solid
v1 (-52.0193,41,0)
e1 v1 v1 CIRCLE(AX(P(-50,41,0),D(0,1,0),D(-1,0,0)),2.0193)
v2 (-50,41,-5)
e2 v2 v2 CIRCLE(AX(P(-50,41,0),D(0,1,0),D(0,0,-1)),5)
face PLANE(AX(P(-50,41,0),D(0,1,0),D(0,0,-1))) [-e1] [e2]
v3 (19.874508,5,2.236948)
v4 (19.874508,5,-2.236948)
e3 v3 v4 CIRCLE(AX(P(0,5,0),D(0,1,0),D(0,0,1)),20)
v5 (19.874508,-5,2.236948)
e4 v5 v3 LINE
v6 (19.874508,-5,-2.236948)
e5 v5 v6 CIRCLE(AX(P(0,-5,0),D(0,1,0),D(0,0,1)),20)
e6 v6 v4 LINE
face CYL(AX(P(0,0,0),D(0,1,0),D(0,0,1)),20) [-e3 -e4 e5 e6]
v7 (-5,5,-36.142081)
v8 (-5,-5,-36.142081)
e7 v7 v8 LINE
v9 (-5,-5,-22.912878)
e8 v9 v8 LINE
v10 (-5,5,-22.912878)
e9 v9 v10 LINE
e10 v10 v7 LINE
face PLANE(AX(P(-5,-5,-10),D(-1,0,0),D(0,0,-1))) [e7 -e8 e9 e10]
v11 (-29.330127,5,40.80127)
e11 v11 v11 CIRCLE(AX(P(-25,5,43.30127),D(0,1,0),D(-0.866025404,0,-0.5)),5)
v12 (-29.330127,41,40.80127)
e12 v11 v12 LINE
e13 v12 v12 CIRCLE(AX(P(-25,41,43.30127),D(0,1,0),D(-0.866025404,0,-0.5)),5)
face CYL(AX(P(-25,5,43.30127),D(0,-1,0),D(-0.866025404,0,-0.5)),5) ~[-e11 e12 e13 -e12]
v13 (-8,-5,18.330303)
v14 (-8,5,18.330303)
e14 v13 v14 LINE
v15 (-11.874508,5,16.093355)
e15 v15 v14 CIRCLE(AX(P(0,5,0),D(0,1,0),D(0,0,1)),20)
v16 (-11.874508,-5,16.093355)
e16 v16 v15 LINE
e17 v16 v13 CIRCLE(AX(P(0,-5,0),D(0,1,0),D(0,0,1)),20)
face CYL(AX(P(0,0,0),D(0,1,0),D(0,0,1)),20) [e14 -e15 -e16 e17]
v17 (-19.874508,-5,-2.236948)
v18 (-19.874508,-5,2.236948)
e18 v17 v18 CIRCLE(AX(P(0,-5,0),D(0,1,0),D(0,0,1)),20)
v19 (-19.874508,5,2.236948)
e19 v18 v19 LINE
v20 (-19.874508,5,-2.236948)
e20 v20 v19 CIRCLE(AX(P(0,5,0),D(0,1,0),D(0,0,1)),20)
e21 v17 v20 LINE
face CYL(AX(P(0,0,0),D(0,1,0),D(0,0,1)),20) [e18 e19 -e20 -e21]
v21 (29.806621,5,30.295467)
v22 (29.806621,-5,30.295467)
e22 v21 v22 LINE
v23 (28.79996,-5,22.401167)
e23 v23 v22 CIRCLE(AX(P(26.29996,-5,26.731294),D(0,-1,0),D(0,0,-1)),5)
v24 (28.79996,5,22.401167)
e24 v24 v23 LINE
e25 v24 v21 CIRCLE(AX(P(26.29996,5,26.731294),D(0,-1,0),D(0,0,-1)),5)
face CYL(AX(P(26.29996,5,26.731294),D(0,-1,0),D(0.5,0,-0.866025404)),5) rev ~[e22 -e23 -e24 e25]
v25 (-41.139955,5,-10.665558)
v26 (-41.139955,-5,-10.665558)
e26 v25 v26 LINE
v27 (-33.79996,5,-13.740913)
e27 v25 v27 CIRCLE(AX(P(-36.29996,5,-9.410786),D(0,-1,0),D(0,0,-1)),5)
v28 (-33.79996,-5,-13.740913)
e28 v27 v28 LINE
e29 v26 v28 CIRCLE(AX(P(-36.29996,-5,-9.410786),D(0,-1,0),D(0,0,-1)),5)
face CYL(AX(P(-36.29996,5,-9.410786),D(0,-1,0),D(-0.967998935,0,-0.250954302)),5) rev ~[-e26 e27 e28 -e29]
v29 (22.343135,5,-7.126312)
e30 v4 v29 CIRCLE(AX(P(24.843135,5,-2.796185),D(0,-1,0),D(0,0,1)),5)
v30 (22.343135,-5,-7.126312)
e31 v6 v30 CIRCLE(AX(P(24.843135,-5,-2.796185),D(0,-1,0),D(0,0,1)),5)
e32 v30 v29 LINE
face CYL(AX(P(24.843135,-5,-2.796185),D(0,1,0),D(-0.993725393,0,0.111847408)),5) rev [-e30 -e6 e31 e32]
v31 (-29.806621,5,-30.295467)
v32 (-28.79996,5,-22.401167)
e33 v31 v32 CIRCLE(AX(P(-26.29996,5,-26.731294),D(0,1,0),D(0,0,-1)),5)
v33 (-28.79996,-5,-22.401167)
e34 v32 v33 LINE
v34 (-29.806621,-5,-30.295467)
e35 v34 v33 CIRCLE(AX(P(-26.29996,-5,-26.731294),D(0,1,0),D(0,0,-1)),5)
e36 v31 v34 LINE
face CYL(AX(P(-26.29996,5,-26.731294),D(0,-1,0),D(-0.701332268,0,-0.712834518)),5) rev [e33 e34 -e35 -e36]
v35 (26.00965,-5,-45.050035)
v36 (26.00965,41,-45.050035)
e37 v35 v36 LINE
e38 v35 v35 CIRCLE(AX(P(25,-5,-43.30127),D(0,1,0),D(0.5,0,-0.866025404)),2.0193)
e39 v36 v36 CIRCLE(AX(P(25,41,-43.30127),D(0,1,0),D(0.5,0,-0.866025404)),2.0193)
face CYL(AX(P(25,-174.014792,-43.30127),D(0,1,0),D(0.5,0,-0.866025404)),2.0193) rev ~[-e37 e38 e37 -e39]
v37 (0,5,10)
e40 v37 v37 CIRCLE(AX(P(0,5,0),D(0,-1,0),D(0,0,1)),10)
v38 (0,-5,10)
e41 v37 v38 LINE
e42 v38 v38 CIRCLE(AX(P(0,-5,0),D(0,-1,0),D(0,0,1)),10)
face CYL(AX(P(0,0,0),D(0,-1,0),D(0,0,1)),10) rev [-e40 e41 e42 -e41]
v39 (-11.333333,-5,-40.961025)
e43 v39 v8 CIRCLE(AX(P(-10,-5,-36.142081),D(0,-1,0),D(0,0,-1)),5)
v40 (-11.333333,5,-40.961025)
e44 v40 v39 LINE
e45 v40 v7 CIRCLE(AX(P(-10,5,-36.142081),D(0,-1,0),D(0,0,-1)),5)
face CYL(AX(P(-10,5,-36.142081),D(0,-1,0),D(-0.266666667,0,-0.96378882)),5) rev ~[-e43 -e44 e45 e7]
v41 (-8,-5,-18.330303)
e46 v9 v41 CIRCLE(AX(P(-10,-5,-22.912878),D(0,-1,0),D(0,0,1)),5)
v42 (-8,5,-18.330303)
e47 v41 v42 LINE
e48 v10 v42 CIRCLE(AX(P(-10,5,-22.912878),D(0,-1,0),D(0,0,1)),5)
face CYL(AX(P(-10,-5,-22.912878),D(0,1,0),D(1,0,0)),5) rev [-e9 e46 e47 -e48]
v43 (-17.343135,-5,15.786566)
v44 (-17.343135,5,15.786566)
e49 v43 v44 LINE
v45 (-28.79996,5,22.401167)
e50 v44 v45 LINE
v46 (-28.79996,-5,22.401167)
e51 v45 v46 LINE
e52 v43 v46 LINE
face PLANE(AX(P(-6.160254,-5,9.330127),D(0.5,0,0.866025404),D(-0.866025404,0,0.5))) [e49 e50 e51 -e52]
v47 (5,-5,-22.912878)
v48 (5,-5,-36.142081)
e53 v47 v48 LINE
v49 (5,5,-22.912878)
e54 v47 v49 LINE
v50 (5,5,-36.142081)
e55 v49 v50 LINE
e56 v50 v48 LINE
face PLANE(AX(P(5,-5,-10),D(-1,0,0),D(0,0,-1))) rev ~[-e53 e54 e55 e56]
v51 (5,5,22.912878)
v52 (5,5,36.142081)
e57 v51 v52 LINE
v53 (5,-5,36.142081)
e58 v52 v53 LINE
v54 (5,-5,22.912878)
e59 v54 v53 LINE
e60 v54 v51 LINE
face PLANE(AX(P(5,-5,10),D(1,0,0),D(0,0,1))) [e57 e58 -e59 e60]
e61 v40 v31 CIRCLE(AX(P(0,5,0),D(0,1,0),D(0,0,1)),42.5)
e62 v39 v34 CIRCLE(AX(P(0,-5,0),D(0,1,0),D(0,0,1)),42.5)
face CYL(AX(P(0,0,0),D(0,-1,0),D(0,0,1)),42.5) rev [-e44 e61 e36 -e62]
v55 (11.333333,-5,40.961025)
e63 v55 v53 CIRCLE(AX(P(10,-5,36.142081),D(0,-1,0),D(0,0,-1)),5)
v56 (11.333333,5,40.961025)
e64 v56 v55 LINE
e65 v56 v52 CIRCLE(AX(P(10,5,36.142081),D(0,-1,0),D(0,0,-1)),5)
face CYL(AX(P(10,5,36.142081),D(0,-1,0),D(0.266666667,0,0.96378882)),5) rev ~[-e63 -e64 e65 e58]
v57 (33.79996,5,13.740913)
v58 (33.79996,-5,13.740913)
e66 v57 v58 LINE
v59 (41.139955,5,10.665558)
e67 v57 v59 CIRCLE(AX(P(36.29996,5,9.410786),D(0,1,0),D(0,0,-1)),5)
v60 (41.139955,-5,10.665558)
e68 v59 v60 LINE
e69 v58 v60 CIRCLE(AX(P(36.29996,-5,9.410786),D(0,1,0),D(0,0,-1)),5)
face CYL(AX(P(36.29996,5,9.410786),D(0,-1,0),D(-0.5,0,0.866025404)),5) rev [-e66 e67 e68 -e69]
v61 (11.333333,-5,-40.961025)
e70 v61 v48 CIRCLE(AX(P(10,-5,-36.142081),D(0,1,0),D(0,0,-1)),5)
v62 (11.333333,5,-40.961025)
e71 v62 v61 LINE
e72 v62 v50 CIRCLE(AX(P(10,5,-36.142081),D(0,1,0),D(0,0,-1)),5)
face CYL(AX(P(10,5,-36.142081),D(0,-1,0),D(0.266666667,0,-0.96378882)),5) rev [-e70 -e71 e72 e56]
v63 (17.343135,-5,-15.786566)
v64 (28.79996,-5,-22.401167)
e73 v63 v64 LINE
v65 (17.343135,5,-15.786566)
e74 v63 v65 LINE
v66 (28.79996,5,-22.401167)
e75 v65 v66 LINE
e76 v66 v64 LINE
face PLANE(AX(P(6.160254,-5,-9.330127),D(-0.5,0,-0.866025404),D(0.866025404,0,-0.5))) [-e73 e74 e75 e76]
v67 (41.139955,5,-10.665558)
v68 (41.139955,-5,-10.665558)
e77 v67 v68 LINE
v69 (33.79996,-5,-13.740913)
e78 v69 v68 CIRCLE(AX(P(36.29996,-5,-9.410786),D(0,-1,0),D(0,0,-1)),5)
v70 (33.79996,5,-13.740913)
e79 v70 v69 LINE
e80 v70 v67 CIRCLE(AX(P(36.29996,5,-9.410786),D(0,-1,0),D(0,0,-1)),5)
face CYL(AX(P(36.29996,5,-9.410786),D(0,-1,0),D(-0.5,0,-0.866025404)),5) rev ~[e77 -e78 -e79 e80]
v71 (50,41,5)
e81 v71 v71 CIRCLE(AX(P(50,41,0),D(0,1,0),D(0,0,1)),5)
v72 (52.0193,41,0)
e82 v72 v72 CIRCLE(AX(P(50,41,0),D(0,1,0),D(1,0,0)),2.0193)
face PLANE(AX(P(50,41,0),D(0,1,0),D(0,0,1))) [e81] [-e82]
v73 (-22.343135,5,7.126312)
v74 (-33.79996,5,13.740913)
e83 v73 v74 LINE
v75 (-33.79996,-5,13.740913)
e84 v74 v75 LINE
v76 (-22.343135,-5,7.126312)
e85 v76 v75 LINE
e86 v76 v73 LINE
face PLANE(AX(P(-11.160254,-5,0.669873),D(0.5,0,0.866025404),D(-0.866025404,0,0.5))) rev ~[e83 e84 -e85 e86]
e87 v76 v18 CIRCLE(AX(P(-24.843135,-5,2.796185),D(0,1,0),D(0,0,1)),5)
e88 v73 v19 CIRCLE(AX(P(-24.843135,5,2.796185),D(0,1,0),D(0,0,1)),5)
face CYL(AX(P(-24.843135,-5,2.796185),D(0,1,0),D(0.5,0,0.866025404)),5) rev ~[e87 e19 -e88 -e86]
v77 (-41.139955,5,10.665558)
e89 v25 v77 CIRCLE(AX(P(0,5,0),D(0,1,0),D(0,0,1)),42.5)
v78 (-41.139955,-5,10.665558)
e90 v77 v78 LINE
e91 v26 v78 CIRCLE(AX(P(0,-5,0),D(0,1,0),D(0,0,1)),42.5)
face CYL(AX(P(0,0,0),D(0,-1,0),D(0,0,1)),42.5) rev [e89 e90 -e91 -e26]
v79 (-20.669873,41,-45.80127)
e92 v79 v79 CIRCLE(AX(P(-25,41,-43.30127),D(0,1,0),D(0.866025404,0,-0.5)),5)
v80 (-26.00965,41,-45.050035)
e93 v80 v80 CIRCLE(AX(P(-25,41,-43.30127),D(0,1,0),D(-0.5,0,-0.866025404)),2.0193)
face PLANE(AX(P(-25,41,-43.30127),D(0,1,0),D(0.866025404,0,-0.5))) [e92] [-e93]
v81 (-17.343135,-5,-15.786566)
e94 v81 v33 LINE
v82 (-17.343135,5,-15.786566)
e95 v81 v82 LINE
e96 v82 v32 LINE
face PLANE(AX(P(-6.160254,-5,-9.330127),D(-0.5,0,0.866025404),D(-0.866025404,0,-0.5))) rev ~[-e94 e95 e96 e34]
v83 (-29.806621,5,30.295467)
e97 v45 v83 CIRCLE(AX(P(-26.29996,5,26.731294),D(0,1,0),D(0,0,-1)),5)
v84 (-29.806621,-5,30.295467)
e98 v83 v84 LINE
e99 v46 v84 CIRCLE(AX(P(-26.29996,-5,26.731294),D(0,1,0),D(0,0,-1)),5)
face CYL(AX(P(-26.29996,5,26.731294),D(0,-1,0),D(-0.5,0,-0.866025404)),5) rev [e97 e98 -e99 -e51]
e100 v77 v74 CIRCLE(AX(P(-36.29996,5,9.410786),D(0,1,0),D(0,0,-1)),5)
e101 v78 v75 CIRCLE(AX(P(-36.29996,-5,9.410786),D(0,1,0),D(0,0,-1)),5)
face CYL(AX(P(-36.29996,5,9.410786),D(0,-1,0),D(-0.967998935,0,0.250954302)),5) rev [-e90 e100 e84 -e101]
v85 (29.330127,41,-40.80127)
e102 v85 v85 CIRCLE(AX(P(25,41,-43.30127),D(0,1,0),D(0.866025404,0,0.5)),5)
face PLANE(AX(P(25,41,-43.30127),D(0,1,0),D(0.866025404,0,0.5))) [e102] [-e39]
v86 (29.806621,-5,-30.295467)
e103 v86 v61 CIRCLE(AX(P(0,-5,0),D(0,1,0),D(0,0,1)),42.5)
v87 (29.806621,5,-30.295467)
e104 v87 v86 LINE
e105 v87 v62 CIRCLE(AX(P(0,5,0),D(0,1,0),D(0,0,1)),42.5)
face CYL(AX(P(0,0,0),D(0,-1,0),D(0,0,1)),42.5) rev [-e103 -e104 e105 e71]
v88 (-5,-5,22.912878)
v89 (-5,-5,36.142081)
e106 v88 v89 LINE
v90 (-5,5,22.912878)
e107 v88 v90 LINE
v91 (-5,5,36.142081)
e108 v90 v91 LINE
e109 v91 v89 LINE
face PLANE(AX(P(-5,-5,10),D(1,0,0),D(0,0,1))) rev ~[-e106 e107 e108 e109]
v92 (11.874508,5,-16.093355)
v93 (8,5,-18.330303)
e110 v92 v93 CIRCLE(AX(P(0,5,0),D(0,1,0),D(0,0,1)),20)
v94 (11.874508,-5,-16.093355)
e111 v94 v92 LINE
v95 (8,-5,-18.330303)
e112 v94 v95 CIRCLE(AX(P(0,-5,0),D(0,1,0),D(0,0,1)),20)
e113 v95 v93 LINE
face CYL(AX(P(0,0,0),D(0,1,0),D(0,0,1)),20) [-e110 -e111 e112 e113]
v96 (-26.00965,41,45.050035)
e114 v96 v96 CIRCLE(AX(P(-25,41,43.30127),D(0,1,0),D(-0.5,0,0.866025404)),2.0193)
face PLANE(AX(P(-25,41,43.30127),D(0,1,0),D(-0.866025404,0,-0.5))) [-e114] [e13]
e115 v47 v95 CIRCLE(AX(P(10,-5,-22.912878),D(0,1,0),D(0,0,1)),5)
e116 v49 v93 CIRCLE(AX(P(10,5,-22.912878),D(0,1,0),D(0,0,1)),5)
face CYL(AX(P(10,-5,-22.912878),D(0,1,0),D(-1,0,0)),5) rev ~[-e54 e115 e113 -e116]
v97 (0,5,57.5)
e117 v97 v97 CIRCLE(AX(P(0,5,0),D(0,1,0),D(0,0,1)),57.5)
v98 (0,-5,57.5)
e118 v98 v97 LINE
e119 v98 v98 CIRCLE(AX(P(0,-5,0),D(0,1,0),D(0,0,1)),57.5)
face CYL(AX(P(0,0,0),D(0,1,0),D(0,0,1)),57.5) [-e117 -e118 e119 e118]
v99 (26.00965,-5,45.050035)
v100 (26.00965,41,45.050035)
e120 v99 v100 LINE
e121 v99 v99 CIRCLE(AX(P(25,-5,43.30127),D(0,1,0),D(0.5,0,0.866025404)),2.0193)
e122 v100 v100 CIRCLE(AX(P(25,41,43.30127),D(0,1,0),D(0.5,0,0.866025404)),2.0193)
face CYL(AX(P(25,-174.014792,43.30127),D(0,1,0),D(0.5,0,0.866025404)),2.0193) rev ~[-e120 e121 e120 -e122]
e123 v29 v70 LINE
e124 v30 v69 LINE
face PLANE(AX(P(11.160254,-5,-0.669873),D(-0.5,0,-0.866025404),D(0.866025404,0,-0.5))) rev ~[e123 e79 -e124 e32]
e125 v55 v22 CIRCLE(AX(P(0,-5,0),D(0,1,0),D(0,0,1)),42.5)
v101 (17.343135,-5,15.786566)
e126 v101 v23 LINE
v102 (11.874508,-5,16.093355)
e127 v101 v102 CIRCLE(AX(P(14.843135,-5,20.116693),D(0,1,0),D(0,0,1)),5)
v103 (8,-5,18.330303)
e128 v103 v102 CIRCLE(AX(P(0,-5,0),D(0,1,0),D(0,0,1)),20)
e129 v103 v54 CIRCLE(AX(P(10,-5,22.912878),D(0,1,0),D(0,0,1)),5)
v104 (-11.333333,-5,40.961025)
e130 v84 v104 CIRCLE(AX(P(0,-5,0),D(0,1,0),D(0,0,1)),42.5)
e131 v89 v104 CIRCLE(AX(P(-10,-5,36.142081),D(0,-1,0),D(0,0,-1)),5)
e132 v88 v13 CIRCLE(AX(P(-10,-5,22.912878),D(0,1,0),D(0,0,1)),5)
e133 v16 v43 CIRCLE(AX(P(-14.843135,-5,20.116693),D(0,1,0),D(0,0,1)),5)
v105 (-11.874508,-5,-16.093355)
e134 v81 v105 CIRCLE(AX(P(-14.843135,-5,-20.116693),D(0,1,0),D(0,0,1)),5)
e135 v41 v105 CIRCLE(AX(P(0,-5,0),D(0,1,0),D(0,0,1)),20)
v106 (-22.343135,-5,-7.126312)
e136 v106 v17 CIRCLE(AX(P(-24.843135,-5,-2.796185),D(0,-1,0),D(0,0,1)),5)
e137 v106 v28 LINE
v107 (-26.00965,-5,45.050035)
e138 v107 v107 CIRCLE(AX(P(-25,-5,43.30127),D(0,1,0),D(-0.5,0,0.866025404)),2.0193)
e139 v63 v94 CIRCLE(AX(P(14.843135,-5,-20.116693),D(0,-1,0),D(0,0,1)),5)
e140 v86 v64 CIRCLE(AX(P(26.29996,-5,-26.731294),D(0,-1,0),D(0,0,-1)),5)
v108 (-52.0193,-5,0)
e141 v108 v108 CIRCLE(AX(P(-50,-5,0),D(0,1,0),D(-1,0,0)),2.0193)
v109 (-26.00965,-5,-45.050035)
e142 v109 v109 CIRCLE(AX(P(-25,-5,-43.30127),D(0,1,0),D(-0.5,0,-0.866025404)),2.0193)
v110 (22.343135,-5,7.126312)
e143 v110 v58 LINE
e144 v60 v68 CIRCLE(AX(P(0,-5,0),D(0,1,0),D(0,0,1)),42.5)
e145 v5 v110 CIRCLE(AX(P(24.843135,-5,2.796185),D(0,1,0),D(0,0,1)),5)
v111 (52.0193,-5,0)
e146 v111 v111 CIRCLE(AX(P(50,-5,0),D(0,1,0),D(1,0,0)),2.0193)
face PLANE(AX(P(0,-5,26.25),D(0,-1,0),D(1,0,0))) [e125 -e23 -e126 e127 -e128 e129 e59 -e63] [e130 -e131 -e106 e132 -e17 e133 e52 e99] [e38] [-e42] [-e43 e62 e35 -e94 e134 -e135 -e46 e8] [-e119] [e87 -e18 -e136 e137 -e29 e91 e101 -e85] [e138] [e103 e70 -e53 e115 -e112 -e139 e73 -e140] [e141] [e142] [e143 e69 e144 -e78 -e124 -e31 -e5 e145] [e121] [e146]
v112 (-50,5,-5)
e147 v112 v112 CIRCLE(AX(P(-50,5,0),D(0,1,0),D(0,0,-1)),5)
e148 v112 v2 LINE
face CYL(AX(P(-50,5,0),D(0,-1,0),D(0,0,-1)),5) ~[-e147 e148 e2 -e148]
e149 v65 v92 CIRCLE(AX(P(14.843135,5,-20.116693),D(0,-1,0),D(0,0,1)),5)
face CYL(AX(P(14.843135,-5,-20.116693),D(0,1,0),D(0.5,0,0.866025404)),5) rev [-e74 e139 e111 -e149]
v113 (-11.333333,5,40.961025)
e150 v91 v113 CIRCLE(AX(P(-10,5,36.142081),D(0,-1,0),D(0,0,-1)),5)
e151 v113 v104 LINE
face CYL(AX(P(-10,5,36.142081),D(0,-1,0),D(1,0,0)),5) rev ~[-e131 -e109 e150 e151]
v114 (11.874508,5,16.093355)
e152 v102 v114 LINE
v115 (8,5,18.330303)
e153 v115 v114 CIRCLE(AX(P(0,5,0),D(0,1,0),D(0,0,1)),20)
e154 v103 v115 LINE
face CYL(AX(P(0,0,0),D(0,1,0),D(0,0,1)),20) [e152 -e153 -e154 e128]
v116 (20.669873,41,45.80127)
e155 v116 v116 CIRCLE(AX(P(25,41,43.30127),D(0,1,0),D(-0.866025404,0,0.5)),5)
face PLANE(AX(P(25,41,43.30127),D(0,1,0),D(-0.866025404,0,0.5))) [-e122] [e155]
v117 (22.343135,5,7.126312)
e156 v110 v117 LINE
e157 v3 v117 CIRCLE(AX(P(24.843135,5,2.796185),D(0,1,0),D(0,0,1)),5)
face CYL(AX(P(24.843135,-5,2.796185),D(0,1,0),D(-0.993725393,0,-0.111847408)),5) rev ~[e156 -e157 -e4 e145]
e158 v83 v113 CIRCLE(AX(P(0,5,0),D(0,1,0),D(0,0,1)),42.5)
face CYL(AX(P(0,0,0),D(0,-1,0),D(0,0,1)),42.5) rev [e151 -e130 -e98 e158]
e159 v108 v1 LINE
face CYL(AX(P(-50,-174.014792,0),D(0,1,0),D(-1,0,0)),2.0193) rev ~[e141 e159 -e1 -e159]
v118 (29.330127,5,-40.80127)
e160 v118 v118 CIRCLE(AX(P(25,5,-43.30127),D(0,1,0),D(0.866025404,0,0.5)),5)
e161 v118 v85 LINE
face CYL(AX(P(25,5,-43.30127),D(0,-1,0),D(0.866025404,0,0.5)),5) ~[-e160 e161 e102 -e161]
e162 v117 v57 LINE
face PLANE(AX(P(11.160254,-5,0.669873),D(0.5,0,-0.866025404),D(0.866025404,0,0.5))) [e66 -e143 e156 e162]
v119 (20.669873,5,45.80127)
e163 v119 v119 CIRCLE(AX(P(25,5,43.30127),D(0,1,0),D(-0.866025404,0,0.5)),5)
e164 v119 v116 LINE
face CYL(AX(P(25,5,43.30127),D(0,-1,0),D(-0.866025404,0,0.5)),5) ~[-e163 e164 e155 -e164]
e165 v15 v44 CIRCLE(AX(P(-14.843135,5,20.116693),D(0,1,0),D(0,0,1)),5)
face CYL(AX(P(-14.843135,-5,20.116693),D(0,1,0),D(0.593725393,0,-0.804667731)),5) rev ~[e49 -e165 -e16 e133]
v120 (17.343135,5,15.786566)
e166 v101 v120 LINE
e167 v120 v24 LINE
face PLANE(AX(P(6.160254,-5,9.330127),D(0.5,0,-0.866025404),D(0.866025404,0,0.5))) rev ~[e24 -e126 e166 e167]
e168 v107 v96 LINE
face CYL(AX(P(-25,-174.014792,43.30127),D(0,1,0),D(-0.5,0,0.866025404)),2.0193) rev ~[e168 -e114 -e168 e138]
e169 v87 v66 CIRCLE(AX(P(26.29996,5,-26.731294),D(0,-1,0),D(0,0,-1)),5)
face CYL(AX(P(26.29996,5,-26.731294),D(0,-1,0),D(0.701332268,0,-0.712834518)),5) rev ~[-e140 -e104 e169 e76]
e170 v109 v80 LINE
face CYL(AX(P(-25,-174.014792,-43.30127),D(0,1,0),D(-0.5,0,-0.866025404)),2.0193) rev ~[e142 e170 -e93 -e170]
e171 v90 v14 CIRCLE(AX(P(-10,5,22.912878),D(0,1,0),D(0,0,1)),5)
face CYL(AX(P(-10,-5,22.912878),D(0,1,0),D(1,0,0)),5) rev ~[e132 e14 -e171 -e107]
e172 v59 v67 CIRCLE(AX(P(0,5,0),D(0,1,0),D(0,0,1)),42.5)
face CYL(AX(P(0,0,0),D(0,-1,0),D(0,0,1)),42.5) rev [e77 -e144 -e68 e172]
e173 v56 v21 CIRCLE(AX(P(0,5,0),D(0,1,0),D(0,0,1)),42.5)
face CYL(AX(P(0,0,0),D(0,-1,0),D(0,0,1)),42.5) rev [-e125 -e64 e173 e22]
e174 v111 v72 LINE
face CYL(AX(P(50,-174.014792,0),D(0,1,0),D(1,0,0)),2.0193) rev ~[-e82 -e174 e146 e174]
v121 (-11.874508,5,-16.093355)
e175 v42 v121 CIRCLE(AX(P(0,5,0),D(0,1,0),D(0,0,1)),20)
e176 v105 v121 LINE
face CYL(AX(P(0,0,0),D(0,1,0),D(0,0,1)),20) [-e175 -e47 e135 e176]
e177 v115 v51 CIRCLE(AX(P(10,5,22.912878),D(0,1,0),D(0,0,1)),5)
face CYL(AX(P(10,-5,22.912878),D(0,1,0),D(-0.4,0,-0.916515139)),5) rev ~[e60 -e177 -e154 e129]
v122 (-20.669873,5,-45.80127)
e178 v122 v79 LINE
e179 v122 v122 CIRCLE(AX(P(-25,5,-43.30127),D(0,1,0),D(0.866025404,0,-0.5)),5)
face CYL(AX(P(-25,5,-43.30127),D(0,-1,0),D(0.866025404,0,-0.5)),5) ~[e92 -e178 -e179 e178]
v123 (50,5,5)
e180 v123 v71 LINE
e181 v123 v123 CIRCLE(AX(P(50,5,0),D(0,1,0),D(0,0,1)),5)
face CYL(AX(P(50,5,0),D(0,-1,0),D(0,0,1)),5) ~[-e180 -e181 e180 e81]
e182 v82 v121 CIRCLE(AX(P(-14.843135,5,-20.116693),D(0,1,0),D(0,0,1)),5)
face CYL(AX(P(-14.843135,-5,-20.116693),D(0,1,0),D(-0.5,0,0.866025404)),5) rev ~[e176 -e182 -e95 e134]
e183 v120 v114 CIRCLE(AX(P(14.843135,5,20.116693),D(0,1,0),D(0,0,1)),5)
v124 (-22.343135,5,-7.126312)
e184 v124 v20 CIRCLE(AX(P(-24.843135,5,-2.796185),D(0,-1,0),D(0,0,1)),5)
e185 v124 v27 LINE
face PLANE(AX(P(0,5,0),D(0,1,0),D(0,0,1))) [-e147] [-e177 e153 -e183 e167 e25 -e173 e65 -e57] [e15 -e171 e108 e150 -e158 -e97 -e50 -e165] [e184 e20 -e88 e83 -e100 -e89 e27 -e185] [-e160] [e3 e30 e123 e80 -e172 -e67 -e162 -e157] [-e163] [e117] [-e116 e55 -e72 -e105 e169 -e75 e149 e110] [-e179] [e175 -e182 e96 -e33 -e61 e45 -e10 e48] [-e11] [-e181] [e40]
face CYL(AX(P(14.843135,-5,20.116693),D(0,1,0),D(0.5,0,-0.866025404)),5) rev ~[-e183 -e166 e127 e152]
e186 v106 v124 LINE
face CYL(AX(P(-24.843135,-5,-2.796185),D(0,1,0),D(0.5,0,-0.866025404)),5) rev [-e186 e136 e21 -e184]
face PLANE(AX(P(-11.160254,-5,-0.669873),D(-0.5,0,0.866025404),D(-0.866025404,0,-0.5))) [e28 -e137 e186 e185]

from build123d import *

# Parameters (mm, degrees)
SKETCH1_R                  = 20
SKETCH1_R_2                = 10
BOSS_EXTRUDE1_DEPTH        = 5
SKETCH1_R_3                = 57.5
SKETCH1_R_4                = 42.5
BOSS_EXTRUDE1_2_DEPTH      = 5
SKETCH2_W                  = 10
SKETCH2_H                  = 32.5
BOSS_EXTRUDE2_DEPTH        = 10
SKETCH4_R                  = 5
BOSS_EXTRUDE3_DEPTH        = 36
TAP_DRILL_FOR_10_32_TAP1_D = 4.0386
FILLET1_R                  = 5
CIRPATTERN1_COUNT          = 6
FILLET1_OF_CIRPATTERN1_R   = 5


with BuildPart() as part:
    # Sketch1 → Boss-Extrude1 (new, symmetric)
    with BuildSketch(Plane(origin=(0, 0, 0), x_dir=(1, 0, 0), z_dir=(0, 1, 0))):
        with Locations(Location((0, 0, 0), (0, 0, 270))):
            Circle(SKETCH1_R)
        with Locations(Location((0, 0, 0), (0, 0, 270))):
            Circle(SKETCH1_R_2, mode=Mode.SUBTRACT)
    extrude(amount=BOSS_EXTRUDE1_DEPTH, both=True)



with BuildPart() as body_2:
    # Sketch1 → Boss-Extrude1 2 (new, symmetric)
    with BuildSketch(Plane(origin=(0, 0, 0), x_dir=(1, 0, 0), z_dir=(0, 1, 0))):
        with Locations(Location((0, 0, 0), (0, 0, 270))):
            Circle(SKETCH1_R_3)
        with Locations(Location((0, 0, 0), (0, 0, 270))):
            Circle(SKETCH1_R_4, mode=Mode.SUBTRACT)
    extrude(amount=BOSS_EXTRUDE1_2_DEPTH, both=True)


with BuildPart() as part_1:
    add(part.part)

    add(body_2.part)  # Boss-Extrude2 merges body 2
    # Sketch2 → Boss-Extrude2 (add)
    with BuildSketch(Plane.XZ.offset(5)):
        with Locations((0, 26.25)):
            Rectangle(SKETCH2_W, SKETCH2_H)
    boss_extrude2 = extrude(amount=-BOSS_EXTRUDE2_DEPTH)

    # Sketch4 → Boss-Extrude3 (add)
    with BuildSketch(Plane(origin=(0, 5, 0), x_dir=(1, 0, 0), z_dir=(0, 1, 0))):
        with Locations(Location((50, 0, 0), (0, 0, 270))):
            Circle(SKETCH4_R)
    boss_extrude3 = extrude(amount=BOSS_EXTRUDE3_DEPTH)

    # Tap Drill for #10-32 Tap1 (through all)
    with Locations(Plane(origin=(0, -5, 0), x_dir=(-1, 0, 0), z_dir=(0, -1, 0))):
        with Locations((-50, 0)):
            tap_drill_for_10_32_tap1 = Hole(TAP_DRILL_FOR_10_32_TAP1_D / 2)

    # Fillet1
    fillet1_edges = [part_1.edges().sort_by_distance(p)[0] for p in [
        (5, 0, 19.364916731),
        (-5, 0, 19.364916731),
        (5, 0, 42.20485754),
        (-5, 0, 42.20485754),
    ]]
    fillet(fillet1_edges, radius=FILLET1_R)

    # CirPattern1: Boss-Extrude2, Boss-Extrude3, Tap Drill for #10-32 Tap1 ×6 about axis
    cirpattern1_axis = Axis((0, 0, 0), (0, 1, 0))
    add([boss_extrude2.rotate(cirpattern1_axis, i * 360 / CIRPATTERN1_COUNT) for i in range(1, CIRPATTERN1_COUNT)])
    add([boss_extrude3.rotate(cirpattern1_axis, i * 360 / CIRPATTERN1_COUNT) for i in range(1, CIRPATTERN1_COUNT)])
    add([tap_drill_for_10_32_tap1.rotate(cirpattern1_axis, i * 360 / CIRPATTERN1_COUNT) for i in range(1, CIRPATTERN1_COUNT)], mode=Mode.SUBTRACT)

    # Fillet1 of CirPattern1
    fillet1_of_cirpattern1_edges = [part_1.edges().sort_by_distance(p)[0] for p in [
        (19.270509831, 0, 5.352331347),
        (14.270509831, 0, 14.012585384),
        (39.050478793, 0, 16.772301751),
        (34.050478793, 0, 25.432555789),
        (14.270509831, 0, -14.012585384),
        (19.270509831, 0, -5.352331347),
        (34.050478793, 0, -25.432555789),
        (39.050478793, 0, -16.772301751),
        (-5, 0, -19.364916731),
        (5, 0, -19.364916731),
        (-5, 0, -42.20485754),
        (5, 0, -42.20485754),
        (-19.270509831, 0, -5.352331347),
        (-14.270509831, 0, -14.012585384),
        (-39.050478793, 0, -16.772301751),
        (-34.050478793, 0, -25.432555789),
        (-14.270509831, 0, 14.012585384),
        (-19.270509831, 0, 5.352331347),
        (-34.050478793, 0, 25.432555789),
        (-39.050478793, 0, 16.772301751),
    ]]
    fillet(fillet1_of_cirpattern1_edges, radius=FILLET1_OF_CIRPATTERN1_R)


solid = part_1.part
